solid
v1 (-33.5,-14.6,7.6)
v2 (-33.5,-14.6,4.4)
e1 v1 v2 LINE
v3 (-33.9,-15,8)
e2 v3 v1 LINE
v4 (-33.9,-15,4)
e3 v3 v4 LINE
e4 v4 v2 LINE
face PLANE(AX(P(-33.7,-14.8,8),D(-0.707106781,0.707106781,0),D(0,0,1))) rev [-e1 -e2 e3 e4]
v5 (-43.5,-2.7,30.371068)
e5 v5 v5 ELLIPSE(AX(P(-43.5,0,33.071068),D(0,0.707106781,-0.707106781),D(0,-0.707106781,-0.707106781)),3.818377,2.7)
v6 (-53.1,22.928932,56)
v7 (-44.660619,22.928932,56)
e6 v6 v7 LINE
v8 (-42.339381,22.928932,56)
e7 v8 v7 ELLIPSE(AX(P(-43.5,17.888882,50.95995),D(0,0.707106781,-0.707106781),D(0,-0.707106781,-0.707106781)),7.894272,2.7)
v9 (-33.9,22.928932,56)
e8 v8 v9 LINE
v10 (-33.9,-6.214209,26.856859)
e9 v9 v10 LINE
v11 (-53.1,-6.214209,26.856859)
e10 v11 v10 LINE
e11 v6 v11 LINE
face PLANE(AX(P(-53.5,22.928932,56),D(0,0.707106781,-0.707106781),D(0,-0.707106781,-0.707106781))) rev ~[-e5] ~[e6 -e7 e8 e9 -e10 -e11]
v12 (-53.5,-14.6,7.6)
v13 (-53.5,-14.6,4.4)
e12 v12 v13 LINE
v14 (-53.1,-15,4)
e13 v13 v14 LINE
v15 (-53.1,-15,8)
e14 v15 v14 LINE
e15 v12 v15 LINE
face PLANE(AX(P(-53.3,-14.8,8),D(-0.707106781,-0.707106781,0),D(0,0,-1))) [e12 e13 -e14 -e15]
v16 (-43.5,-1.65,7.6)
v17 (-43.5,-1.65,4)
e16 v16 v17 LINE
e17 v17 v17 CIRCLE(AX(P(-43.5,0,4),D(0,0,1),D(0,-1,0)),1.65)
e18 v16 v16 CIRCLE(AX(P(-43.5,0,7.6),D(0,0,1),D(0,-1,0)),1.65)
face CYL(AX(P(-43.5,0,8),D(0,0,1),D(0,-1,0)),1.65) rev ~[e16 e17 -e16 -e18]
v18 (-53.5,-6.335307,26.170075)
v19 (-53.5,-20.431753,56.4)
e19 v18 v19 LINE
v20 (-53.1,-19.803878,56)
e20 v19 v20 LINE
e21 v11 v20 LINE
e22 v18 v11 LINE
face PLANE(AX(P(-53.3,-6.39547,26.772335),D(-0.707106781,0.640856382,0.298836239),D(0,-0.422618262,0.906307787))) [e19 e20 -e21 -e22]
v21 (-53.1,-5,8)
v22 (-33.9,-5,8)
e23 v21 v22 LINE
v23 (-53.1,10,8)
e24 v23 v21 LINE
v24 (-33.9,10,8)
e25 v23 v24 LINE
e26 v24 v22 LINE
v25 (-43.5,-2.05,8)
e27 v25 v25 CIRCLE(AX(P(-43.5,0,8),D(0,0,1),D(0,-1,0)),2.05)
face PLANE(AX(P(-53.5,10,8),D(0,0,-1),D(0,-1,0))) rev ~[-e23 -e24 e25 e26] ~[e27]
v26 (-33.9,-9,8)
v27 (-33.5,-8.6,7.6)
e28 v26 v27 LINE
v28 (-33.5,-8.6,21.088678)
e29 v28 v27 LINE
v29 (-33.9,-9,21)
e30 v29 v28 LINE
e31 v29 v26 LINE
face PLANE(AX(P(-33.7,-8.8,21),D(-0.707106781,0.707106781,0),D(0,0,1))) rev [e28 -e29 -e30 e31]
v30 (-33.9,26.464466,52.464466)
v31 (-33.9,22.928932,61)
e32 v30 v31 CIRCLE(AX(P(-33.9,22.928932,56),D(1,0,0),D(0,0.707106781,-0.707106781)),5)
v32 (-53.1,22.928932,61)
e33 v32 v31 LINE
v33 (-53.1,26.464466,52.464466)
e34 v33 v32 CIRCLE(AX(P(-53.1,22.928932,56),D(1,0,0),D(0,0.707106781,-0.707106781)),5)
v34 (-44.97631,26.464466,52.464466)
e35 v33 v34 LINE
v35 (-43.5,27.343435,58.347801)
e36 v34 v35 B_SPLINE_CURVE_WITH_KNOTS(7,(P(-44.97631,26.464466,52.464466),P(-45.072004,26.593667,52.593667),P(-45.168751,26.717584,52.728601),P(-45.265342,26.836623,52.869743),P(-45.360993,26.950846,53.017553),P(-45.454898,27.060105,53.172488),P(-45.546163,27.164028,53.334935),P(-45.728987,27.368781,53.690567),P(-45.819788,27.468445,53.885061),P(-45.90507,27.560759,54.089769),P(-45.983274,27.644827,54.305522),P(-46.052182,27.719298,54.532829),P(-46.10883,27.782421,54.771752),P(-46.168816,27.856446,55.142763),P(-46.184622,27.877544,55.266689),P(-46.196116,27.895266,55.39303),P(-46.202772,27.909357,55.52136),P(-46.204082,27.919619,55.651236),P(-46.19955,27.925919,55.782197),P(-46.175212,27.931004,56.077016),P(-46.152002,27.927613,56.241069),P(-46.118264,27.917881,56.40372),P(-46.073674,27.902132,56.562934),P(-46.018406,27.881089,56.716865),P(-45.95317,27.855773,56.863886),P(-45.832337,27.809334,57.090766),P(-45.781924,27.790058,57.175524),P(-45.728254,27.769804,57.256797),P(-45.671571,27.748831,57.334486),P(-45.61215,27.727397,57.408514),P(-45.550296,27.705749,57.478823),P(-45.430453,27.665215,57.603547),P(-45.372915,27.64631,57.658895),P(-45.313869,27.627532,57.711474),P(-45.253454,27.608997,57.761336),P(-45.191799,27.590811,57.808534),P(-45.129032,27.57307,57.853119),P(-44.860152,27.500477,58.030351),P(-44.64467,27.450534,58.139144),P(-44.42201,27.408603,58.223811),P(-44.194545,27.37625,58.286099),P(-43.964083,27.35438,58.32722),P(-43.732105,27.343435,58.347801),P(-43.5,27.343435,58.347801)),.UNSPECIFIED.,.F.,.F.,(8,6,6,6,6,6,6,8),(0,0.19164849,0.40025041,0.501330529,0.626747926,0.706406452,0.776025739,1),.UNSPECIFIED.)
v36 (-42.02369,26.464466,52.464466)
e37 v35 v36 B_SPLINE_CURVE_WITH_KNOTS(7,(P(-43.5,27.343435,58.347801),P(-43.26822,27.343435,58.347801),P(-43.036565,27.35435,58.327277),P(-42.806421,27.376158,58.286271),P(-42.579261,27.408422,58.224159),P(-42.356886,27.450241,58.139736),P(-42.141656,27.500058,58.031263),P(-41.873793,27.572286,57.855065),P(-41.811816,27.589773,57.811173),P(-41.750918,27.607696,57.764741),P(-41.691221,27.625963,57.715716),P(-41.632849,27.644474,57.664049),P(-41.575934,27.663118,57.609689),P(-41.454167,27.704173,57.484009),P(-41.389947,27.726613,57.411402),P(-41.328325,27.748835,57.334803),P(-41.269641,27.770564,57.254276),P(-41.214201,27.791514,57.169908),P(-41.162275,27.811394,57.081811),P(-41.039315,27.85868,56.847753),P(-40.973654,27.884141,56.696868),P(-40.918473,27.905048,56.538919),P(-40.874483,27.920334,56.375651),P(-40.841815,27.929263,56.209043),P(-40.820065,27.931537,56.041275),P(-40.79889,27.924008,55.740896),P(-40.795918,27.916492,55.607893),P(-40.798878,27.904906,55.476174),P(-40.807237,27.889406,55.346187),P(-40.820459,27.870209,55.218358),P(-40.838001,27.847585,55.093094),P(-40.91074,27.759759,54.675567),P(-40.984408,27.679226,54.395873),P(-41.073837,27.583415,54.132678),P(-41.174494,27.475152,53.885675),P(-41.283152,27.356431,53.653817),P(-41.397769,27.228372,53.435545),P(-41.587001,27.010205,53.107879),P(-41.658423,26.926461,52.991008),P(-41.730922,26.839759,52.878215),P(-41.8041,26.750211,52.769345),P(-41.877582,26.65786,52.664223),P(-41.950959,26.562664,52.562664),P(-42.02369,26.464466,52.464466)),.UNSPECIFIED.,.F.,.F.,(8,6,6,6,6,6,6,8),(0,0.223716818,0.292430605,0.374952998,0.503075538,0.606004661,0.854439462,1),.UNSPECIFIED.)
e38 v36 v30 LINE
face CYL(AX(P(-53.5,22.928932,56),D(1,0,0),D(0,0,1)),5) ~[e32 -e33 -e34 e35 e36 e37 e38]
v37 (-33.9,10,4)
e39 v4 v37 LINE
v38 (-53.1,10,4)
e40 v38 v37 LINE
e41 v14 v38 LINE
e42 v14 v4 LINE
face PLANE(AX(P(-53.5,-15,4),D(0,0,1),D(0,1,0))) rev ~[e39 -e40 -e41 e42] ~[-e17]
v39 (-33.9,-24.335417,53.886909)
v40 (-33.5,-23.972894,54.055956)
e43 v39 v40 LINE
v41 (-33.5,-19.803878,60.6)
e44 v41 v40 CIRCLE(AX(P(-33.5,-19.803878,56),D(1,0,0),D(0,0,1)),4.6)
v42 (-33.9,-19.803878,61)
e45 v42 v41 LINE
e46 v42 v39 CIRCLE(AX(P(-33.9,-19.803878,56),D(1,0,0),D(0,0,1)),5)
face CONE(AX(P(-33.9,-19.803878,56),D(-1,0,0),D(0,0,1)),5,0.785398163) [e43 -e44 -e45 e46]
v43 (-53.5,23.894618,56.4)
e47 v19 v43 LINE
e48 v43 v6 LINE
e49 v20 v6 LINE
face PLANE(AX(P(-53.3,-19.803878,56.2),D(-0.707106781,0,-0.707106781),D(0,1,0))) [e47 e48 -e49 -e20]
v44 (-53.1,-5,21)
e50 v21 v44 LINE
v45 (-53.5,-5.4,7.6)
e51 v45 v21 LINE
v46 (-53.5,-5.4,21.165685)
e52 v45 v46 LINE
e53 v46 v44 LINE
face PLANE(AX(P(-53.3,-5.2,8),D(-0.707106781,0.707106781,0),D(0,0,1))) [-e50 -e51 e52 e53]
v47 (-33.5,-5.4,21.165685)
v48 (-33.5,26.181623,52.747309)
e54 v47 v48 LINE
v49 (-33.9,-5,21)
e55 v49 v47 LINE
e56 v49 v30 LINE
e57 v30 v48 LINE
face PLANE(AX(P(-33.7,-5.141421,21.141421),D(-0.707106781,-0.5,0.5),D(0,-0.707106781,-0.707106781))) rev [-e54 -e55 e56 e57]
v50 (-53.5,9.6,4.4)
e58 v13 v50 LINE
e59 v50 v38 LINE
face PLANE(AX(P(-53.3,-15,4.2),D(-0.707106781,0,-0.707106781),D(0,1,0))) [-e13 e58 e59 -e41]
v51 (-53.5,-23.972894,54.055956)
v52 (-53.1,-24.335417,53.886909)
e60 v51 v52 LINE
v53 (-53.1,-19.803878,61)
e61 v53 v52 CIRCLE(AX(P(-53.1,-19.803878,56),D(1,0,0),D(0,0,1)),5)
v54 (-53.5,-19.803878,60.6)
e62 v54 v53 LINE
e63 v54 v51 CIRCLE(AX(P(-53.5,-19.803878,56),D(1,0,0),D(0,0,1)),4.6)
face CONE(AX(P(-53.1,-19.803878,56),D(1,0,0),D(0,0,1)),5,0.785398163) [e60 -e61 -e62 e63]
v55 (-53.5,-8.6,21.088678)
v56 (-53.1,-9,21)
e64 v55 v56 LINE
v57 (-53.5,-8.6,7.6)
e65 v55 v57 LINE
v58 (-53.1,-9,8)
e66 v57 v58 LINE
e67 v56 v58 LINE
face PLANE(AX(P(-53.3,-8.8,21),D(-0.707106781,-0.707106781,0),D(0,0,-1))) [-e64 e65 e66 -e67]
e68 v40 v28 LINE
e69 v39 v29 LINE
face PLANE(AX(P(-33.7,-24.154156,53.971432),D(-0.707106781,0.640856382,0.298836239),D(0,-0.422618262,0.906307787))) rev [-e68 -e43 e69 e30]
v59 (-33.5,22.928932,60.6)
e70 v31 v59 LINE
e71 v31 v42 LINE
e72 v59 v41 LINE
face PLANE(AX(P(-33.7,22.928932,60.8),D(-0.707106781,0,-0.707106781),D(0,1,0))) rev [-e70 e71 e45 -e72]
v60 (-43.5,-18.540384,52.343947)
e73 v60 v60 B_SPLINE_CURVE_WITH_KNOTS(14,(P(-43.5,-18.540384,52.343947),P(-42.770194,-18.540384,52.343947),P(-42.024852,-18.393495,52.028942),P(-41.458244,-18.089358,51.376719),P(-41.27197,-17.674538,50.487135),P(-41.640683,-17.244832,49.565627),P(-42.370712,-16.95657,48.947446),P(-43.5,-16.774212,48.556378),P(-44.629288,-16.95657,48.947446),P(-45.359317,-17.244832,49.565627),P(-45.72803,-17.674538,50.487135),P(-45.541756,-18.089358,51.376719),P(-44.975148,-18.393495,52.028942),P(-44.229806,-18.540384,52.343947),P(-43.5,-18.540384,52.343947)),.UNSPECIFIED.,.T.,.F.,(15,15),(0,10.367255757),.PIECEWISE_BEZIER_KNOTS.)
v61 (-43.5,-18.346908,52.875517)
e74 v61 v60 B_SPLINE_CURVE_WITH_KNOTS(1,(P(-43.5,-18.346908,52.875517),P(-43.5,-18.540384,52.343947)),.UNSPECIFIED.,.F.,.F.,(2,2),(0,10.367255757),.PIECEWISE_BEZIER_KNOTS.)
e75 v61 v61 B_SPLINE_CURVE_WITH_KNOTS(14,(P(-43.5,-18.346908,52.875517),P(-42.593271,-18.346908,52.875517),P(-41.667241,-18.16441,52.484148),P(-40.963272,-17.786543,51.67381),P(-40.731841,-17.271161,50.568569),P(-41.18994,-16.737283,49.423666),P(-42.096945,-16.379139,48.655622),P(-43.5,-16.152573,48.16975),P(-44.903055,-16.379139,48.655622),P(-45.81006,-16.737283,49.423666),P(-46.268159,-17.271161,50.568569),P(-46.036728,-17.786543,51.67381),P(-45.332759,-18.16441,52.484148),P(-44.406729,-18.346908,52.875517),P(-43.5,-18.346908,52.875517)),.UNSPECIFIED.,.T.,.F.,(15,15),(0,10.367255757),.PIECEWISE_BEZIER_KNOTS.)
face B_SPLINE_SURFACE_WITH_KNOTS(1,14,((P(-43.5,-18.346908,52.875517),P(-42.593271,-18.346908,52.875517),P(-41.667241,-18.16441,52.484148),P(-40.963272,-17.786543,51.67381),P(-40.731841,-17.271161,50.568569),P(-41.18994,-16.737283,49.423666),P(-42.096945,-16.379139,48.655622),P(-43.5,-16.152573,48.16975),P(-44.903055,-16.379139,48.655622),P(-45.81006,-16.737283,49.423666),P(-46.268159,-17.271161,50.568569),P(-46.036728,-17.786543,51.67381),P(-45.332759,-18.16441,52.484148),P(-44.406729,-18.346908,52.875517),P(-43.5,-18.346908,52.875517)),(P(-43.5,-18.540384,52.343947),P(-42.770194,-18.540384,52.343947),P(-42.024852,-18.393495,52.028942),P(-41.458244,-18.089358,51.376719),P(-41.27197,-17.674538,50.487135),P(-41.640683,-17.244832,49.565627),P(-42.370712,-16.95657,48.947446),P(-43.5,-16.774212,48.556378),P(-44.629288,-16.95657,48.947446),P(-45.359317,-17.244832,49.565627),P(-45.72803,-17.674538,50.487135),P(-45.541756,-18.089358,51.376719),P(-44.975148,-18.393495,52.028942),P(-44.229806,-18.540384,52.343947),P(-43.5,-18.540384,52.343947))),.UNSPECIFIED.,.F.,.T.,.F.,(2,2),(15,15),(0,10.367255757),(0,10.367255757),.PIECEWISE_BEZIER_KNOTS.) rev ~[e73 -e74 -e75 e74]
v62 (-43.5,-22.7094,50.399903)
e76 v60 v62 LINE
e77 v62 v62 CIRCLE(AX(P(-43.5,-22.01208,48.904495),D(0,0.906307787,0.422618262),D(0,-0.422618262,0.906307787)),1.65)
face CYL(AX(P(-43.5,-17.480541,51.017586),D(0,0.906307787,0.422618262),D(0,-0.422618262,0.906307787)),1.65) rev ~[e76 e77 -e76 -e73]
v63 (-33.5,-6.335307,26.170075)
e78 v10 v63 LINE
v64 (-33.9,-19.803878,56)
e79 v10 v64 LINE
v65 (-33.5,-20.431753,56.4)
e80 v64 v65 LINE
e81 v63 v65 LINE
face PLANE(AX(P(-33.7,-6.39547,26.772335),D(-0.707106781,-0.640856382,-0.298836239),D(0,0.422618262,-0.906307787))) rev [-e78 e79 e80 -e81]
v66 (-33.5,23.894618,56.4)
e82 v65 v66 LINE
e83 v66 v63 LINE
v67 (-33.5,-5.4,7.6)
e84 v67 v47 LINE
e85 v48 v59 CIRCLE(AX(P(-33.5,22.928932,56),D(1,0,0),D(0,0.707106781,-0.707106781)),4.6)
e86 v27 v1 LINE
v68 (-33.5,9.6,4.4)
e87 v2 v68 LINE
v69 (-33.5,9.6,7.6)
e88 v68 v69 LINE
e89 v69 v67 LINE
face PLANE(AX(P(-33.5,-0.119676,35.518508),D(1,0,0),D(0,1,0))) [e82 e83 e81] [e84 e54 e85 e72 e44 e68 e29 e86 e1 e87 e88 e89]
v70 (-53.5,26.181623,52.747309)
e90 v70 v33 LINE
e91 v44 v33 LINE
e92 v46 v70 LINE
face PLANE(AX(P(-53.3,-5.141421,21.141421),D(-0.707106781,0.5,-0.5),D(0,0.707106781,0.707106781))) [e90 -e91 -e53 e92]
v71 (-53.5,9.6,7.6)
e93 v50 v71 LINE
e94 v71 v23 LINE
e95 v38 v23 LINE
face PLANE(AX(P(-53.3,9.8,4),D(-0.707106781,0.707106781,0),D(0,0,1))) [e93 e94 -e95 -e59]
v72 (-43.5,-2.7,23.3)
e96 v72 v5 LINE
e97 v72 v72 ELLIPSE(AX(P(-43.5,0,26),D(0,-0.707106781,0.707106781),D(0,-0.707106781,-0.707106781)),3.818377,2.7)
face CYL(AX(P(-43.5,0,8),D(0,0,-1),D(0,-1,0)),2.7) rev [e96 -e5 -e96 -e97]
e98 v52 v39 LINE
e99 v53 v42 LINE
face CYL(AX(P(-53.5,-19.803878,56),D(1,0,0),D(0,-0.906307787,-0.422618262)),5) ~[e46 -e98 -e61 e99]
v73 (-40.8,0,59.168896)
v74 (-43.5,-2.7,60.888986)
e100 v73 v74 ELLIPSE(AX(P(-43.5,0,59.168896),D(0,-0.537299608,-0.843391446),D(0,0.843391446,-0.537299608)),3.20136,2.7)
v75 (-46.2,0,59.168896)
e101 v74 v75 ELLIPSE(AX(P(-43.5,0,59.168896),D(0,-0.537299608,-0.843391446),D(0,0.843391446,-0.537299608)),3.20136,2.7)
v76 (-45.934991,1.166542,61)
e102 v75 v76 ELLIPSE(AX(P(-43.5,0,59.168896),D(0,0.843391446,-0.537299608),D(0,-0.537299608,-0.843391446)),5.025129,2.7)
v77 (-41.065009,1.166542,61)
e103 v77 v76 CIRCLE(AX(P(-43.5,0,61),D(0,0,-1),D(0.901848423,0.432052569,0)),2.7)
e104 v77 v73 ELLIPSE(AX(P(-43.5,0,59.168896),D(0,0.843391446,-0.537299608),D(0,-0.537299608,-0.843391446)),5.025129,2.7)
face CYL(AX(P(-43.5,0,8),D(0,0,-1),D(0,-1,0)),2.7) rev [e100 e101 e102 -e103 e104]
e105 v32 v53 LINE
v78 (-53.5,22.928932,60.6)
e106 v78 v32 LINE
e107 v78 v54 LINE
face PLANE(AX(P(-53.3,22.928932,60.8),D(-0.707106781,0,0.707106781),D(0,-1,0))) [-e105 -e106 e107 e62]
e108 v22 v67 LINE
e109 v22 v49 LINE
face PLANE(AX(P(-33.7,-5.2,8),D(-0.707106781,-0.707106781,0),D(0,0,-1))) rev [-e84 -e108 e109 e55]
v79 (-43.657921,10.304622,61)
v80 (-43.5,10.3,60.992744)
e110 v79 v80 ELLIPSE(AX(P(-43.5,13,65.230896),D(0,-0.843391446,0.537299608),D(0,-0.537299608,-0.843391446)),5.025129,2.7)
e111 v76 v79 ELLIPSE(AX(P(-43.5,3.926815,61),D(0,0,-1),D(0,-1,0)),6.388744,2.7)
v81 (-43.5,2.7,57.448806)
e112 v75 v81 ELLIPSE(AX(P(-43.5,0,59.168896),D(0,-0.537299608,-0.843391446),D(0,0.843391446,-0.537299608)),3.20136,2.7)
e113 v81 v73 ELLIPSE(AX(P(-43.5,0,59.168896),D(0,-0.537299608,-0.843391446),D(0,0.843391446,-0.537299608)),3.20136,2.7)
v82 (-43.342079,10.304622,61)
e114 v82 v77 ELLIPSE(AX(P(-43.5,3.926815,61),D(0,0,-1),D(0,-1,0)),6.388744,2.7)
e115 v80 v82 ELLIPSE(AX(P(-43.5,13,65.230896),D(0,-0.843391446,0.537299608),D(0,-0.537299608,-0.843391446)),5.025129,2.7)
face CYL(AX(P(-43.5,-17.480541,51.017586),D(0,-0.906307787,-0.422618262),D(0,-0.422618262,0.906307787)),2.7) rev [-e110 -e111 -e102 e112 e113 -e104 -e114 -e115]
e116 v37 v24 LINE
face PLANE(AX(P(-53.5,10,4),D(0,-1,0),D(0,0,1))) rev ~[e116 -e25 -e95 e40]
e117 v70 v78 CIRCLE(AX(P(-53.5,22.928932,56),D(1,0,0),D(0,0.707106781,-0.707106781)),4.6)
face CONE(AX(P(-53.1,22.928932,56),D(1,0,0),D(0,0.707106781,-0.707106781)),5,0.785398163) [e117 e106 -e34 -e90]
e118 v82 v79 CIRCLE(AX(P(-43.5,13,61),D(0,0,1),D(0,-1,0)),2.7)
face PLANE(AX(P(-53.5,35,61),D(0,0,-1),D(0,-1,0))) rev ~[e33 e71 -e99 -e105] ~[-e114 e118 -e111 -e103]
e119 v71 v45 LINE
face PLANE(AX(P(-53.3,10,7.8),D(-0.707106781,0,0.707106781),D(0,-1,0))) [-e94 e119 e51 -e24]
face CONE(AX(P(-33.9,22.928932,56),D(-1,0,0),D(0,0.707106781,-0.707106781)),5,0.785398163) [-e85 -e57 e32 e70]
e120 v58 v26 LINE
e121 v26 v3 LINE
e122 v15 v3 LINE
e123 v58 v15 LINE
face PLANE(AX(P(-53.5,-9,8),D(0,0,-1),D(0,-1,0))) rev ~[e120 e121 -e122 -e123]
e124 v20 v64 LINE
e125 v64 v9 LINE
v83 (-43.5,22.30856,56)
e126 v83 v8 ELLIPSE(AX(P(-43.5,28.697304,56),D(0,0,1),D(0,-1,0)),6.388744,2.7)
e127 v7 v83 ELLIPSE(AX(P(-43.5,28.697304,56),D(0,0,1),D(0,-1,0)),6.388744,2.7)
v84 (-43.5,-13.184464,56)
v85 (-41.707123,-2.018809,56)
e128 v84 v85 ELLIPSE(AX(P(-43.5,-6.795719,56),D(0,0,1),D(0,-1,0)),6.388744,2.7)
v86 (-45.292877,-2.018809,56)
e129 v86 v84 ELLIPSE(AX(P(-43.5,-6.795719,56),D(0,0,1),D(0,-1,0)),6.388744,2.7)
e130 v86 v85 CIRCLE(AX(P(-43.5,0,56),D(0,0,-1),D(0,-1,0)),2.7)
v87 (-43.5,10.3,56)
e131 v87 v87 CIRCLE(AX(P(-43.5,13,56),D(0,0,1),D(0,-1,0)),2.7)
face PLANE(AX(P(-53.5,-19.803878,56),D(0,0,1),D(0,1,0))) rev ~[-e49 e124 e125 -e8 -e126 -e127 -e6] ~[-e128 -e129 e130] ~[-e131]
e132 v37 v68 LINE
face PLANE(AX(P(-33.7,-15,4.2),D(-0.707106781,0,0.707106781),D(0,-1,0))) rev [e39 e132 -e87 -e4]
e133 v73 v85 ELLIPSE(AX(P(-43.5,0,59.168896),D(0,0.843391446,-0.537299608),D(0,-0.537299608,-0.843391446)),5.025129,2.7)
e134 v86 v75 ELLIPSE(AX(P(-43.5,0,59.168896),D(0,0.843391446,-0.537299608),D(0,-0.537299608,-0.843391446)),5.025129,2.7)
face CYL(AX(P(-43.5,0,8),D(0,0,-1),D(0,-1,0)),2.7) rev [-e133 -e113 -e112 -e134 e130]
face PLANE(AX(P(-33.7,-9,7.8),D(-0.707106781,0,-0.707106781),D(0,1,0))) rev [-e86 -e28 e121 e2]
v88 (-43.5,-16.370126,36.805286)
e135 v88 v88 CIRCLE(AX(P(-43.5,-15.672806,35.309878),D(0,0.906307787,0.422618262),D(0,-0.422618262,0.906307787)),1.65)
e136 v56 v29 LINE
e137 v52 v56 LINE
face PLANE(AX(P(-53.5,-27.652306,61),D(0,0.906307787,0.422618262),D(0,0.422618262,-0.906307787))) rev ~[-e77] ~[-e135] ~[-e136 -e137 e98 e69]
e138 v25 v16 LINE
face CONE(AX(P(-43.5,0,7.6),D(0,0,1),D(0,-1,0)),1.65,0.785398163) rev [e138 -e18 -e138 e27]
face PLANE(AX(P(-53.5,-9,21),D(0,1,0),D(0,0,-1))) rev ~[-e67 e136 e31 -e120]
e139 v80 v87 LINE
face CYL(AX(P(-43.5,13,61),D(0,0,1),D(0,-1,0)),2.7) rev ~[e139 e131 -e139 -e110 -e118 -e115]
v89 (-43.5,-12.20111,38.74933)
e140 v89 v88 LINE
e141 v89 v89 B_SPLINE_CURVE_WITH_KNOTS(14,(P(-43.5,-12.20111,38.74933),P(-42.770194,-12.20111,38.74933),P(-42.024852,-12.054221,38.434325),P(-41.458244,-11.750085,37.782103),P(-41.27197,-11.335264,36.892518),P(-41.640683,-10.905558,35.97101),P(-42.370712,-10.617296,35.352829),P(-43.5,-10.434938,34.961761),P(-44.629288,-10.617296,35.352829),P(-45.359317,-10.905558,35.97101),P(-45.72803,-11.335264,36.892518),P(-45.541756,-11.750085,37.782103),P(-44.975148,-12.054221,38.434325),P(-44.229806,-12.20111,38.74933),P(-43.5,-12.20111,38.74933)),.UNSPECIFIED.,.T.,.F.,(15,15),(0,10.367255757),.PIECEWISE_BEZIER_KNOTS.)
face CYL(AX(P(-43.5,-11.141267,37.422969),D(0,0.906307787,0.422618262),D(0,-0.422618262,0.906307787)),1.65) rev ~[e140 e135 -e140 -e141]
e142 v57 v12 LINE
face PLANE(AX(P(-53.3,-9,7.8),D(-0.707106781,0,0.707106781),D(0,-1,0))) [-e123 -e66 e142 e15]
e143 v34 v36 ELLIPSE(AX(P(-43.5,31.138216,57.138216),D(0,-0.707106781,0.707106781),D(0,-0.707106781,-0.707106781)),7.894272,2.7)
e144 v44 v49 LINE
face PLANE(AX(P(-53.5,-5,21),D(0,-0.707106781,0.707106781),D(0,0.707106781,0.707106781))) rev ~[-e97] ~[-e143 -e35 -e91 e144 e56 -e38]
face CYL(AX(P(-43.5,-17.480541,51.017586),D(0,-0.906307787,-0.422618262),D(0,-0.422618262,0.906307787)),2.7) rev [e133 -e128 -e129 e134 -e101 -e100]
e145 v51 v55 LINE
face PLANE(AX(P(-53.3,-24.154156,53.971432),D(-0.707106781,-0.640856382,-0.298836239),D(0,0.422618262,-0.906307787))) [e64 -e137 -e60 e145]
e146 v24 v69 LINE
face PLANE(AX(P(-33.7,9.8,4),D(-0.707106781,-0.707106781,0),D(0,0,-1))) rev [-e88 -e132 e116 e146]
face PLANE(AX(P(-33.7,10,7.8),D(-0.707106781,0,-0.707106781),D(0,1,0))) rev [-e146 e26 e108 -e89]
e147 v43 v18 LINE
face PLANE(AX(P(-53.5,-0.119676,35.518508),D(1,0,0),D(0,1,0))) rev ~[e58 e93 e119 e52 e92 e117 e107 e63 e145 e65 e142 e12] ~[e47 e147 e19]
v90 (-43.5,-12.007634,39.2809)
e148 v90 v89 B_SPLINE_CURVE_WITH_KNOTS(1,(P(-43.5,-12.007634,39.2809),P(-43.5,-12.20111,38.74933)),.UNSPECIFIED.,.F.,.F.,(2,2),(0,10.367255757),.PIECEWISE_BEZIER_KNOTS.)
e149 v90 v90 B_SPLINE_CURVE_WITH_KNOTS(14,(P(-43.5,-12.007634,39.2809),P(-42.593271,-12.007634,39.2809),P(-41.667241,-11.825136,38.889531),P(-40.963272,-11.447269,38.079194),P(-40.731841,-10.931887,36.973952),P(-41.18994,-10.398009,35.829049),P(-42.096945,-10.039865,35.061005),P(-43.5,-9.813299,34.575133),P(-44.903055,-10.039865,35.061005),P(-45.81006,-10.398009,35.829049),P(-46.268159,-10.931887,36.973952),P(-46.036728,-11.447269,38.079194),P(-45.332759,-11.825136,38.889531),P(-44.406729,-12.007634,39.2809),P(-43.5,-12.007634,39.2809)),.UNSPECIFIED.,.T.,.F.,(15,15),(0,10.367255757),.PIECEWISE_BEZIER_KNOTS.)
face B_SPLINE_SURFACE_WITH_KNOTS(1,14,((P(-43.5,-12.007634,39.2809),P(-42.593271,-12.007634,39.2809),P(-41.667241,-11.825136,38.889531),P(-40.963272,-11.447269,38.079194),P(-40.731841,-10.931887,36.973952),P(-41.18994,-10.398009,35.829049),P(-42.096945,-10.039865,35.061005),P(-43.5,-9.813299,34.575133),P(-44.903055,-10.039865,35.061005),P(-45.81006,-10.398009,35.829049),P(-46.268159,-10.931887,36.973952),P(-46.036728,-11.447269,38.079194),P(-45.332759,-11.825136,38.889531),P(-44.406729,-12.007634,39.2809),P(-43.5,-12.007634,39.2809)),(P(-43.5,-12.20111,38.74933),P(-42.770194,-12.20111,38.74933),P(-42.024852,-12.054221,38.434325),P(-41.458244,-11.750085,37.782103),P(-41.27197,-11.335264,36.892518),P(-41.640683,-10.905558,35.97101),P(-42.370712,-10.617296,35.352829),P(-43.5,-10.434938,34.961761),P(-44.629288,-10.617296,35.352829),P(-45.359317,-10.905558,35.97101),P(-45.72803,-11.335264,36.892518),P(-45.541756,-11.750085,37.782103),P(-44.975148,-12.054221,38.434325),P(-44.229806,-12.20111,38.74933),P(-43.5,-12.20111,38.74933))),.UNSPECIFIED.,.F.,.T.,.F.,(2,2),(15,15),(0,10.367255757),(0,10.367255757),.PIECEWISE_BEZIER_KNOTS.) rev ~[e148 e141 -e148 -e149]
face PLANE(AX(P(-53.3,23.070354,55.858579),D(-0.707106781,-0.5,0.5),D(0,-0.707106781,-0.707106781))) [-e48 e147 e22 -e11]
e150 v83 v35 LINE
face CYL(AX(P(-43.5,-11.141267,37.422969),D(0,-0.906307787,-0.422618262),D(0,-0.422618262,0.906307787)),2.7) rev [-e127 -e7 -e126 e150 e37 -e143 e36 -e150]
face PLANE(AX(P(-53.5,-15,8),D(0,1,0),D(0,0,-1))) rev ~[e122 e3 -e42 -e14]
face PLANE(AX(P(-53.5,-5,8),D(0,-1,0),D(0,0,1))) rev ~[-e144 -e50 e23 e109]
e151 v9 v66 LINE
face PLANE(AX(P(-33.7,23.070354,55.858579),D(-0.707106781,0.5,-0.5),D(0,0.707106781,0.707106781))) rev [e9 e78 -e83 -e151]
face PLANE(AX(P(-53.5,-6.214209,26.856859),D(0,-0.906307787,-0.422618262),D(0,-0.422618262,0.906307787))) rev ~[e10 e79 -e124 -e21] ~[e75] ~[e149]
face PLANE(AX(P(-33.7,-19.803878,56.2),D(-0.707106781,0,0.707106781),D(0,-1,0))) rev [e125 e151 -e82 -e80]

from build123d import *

# Parameters (mm, degrees)
PAD005_DEPTH       = 20
SKETCH012_R        = 1.65
POCKET001_DEPTH    = 5
SKETCH024_R        = 1.65
POCKET010_DEPTH    = 4.001
FILLET_R           = 5
SKETCH025_R        = 2.7
POCKET011_DEPTH    = 53.001
SKETCH026_R        = 2.7
POCKET012_DEPTH    = 45.3747092787
SKETCH027_R        = 2.7
POCKET013_DEPTH    = 5
CHAMFER007002_SIZE = 0.4


with BuildPart() as part:
    # Sketch011 → Pad005 (new body)
    with BuildSketch(Plane.YZ):
        Polygon((-15, 4), (-15, 0), (10, 0), (10, 4), (-5, 4), (-5, 17), (35, 57), (-27.6523063262, 57), (-9, 17), (-9, 4), align=None)
        Polygon((-19.8038784406, 52), (22.9289321881, 52), (-6.2142086739, 22.8568591379), align=None, mode=Mode.SUBTRACT)
    extrude(amount=PAD005_DEPTH)

    # Sketch012 (on Face13 of Pad005) → Pocket001 (cut)
    with BuildSketch(Plane(origin=(0, 3.6503724581, 1.7021966323), x_dir=(0, -0.4226182617, 0.906307787), z_dir=(0, 0.906307787, 0.4226182617))):
        with Locations((35, 10)):
            Circle(SKETCH012_R)
        with Locations((50, 10)):
            Circle(SKETCH012_R)
    extrude(amount=-POCKET001_DEPTH, mode=Mode.SUBTRACT)

    # Sketch024 (on Face8 of Pocket001) → Pocket010 (cut, through all)
    with BuildSketch(Plane(origin=(0, 0, 4), x_dir=(0, -1, 0), z_dir=(0, 0, 1))):
        with Locations((0, 10)):
            Circle(SKETCH024_R)
    extrude(amount=-POCKET010_DEPTH, mode=Mode.SUBTRACT)

    # Fillet
    fillet_edges = [part.edges().sort_by_distance(p)[0] for p in [
        (10, -27.652306, 57),
        (10, 35, 57),
    ]]
    fillet(fillet_edges, radius=FILLET_R)

    # Sketch025 (on Face6 of Fillet) → Pocket011 (cut, through all)
    with BuildSketch(Plane(origin=(0, 0, 4), x_dir=(0, -1, 0), z_dir=(0, 0, 1))):
        with Locations((0, 10)):
            Circle(SKETCH025_R)
    extrude(amount=POCKET011_DEPTH, mode=Mode.SUBTRACT)

    # Sketch026 (on Face16 of Pocket011) → Pocket012 (cut, through all)
    with BuildSketch(Plane(origin=(0, 3.6503724581, 1.7021966323), x_dir=(0, -0.4226182617, 0.906307787), z_dir=(0, 0.906307787, 0.4226182617))):
        with Locations((35, 10)):
            Circle(SKETCH026_R)
        with Locations((50, 10)):
            Circle(SKETCH026_R)
    extrude(amount=POCKET012_DEPTH, mode=Mode.SUBTRACT)

    # Sketch027 (on Face5 of Pocket012) → Pocket013 (cut)
    with BuildSketch(Plane(origin=(0, 0, 57), x_dir=(0, -1, 0), z_dir=(0, 0, 1))):
        with Locations((-13, 10)):
            Circle(SKETCH027_R)
    extrude(amount=-POCKET013_DEPTH, mode=Mode.SUBTRACT)

    # Chamfer007002
    chamfer007002_edges = [part.edges().sort_by_distance(p)[0] for p in [
        (0, 10.732233, 32.732233),
        (0, 27.54833, 53.913417),
        (0, -5, 10.5),
        (0, 1.562527, 57),
        (0, 2.5, 4),
        (0, -24.020836, 54.686498),
        (0, 10, 2),
        (0, -16.667709, 33.443454),
        (0, -2.5, 0),
        (0, -9, 10.5),
        (0, -15, 2),
        (0, -12, 4),
        (0, 1.562527, 52),
        (0, 8.357362, 37.42843),
        (0, -13.009044, 37.42843),
        (20, 10.732233, 32.732233),
        (20, 27.54833, 53.913417),
        (20, -5, 10.5),
        (20, 1.562527, 57),
        (20, 2.5, 4),
        (20, -24.020836, 54.686498),
        (20, 10, 2),
        (20, -16.667709, 33.443454),
        (20, -2.5, 0),
        (20, -9, 10.5),
        (20, -15, 2),
        (20, -12, 4),
        (20, 1.562527, 52),
        (20, 8.357362, 37.42843),
        (20, -13.009044, 37.42843),
        (10, -10.443947, 31.927561),
        (10, -16.78322, 45.522178),
        (10, 1.65, 4),
    ]]
    chamfer(chamfer007002_edges, length=CHAMFER007002_SIZE)


with BuildPart() as part_1:
    # Body004004002 placement: moved
    add(part.part.moved(Location((-53.5, 0, 4))))


solid = part_1.part
